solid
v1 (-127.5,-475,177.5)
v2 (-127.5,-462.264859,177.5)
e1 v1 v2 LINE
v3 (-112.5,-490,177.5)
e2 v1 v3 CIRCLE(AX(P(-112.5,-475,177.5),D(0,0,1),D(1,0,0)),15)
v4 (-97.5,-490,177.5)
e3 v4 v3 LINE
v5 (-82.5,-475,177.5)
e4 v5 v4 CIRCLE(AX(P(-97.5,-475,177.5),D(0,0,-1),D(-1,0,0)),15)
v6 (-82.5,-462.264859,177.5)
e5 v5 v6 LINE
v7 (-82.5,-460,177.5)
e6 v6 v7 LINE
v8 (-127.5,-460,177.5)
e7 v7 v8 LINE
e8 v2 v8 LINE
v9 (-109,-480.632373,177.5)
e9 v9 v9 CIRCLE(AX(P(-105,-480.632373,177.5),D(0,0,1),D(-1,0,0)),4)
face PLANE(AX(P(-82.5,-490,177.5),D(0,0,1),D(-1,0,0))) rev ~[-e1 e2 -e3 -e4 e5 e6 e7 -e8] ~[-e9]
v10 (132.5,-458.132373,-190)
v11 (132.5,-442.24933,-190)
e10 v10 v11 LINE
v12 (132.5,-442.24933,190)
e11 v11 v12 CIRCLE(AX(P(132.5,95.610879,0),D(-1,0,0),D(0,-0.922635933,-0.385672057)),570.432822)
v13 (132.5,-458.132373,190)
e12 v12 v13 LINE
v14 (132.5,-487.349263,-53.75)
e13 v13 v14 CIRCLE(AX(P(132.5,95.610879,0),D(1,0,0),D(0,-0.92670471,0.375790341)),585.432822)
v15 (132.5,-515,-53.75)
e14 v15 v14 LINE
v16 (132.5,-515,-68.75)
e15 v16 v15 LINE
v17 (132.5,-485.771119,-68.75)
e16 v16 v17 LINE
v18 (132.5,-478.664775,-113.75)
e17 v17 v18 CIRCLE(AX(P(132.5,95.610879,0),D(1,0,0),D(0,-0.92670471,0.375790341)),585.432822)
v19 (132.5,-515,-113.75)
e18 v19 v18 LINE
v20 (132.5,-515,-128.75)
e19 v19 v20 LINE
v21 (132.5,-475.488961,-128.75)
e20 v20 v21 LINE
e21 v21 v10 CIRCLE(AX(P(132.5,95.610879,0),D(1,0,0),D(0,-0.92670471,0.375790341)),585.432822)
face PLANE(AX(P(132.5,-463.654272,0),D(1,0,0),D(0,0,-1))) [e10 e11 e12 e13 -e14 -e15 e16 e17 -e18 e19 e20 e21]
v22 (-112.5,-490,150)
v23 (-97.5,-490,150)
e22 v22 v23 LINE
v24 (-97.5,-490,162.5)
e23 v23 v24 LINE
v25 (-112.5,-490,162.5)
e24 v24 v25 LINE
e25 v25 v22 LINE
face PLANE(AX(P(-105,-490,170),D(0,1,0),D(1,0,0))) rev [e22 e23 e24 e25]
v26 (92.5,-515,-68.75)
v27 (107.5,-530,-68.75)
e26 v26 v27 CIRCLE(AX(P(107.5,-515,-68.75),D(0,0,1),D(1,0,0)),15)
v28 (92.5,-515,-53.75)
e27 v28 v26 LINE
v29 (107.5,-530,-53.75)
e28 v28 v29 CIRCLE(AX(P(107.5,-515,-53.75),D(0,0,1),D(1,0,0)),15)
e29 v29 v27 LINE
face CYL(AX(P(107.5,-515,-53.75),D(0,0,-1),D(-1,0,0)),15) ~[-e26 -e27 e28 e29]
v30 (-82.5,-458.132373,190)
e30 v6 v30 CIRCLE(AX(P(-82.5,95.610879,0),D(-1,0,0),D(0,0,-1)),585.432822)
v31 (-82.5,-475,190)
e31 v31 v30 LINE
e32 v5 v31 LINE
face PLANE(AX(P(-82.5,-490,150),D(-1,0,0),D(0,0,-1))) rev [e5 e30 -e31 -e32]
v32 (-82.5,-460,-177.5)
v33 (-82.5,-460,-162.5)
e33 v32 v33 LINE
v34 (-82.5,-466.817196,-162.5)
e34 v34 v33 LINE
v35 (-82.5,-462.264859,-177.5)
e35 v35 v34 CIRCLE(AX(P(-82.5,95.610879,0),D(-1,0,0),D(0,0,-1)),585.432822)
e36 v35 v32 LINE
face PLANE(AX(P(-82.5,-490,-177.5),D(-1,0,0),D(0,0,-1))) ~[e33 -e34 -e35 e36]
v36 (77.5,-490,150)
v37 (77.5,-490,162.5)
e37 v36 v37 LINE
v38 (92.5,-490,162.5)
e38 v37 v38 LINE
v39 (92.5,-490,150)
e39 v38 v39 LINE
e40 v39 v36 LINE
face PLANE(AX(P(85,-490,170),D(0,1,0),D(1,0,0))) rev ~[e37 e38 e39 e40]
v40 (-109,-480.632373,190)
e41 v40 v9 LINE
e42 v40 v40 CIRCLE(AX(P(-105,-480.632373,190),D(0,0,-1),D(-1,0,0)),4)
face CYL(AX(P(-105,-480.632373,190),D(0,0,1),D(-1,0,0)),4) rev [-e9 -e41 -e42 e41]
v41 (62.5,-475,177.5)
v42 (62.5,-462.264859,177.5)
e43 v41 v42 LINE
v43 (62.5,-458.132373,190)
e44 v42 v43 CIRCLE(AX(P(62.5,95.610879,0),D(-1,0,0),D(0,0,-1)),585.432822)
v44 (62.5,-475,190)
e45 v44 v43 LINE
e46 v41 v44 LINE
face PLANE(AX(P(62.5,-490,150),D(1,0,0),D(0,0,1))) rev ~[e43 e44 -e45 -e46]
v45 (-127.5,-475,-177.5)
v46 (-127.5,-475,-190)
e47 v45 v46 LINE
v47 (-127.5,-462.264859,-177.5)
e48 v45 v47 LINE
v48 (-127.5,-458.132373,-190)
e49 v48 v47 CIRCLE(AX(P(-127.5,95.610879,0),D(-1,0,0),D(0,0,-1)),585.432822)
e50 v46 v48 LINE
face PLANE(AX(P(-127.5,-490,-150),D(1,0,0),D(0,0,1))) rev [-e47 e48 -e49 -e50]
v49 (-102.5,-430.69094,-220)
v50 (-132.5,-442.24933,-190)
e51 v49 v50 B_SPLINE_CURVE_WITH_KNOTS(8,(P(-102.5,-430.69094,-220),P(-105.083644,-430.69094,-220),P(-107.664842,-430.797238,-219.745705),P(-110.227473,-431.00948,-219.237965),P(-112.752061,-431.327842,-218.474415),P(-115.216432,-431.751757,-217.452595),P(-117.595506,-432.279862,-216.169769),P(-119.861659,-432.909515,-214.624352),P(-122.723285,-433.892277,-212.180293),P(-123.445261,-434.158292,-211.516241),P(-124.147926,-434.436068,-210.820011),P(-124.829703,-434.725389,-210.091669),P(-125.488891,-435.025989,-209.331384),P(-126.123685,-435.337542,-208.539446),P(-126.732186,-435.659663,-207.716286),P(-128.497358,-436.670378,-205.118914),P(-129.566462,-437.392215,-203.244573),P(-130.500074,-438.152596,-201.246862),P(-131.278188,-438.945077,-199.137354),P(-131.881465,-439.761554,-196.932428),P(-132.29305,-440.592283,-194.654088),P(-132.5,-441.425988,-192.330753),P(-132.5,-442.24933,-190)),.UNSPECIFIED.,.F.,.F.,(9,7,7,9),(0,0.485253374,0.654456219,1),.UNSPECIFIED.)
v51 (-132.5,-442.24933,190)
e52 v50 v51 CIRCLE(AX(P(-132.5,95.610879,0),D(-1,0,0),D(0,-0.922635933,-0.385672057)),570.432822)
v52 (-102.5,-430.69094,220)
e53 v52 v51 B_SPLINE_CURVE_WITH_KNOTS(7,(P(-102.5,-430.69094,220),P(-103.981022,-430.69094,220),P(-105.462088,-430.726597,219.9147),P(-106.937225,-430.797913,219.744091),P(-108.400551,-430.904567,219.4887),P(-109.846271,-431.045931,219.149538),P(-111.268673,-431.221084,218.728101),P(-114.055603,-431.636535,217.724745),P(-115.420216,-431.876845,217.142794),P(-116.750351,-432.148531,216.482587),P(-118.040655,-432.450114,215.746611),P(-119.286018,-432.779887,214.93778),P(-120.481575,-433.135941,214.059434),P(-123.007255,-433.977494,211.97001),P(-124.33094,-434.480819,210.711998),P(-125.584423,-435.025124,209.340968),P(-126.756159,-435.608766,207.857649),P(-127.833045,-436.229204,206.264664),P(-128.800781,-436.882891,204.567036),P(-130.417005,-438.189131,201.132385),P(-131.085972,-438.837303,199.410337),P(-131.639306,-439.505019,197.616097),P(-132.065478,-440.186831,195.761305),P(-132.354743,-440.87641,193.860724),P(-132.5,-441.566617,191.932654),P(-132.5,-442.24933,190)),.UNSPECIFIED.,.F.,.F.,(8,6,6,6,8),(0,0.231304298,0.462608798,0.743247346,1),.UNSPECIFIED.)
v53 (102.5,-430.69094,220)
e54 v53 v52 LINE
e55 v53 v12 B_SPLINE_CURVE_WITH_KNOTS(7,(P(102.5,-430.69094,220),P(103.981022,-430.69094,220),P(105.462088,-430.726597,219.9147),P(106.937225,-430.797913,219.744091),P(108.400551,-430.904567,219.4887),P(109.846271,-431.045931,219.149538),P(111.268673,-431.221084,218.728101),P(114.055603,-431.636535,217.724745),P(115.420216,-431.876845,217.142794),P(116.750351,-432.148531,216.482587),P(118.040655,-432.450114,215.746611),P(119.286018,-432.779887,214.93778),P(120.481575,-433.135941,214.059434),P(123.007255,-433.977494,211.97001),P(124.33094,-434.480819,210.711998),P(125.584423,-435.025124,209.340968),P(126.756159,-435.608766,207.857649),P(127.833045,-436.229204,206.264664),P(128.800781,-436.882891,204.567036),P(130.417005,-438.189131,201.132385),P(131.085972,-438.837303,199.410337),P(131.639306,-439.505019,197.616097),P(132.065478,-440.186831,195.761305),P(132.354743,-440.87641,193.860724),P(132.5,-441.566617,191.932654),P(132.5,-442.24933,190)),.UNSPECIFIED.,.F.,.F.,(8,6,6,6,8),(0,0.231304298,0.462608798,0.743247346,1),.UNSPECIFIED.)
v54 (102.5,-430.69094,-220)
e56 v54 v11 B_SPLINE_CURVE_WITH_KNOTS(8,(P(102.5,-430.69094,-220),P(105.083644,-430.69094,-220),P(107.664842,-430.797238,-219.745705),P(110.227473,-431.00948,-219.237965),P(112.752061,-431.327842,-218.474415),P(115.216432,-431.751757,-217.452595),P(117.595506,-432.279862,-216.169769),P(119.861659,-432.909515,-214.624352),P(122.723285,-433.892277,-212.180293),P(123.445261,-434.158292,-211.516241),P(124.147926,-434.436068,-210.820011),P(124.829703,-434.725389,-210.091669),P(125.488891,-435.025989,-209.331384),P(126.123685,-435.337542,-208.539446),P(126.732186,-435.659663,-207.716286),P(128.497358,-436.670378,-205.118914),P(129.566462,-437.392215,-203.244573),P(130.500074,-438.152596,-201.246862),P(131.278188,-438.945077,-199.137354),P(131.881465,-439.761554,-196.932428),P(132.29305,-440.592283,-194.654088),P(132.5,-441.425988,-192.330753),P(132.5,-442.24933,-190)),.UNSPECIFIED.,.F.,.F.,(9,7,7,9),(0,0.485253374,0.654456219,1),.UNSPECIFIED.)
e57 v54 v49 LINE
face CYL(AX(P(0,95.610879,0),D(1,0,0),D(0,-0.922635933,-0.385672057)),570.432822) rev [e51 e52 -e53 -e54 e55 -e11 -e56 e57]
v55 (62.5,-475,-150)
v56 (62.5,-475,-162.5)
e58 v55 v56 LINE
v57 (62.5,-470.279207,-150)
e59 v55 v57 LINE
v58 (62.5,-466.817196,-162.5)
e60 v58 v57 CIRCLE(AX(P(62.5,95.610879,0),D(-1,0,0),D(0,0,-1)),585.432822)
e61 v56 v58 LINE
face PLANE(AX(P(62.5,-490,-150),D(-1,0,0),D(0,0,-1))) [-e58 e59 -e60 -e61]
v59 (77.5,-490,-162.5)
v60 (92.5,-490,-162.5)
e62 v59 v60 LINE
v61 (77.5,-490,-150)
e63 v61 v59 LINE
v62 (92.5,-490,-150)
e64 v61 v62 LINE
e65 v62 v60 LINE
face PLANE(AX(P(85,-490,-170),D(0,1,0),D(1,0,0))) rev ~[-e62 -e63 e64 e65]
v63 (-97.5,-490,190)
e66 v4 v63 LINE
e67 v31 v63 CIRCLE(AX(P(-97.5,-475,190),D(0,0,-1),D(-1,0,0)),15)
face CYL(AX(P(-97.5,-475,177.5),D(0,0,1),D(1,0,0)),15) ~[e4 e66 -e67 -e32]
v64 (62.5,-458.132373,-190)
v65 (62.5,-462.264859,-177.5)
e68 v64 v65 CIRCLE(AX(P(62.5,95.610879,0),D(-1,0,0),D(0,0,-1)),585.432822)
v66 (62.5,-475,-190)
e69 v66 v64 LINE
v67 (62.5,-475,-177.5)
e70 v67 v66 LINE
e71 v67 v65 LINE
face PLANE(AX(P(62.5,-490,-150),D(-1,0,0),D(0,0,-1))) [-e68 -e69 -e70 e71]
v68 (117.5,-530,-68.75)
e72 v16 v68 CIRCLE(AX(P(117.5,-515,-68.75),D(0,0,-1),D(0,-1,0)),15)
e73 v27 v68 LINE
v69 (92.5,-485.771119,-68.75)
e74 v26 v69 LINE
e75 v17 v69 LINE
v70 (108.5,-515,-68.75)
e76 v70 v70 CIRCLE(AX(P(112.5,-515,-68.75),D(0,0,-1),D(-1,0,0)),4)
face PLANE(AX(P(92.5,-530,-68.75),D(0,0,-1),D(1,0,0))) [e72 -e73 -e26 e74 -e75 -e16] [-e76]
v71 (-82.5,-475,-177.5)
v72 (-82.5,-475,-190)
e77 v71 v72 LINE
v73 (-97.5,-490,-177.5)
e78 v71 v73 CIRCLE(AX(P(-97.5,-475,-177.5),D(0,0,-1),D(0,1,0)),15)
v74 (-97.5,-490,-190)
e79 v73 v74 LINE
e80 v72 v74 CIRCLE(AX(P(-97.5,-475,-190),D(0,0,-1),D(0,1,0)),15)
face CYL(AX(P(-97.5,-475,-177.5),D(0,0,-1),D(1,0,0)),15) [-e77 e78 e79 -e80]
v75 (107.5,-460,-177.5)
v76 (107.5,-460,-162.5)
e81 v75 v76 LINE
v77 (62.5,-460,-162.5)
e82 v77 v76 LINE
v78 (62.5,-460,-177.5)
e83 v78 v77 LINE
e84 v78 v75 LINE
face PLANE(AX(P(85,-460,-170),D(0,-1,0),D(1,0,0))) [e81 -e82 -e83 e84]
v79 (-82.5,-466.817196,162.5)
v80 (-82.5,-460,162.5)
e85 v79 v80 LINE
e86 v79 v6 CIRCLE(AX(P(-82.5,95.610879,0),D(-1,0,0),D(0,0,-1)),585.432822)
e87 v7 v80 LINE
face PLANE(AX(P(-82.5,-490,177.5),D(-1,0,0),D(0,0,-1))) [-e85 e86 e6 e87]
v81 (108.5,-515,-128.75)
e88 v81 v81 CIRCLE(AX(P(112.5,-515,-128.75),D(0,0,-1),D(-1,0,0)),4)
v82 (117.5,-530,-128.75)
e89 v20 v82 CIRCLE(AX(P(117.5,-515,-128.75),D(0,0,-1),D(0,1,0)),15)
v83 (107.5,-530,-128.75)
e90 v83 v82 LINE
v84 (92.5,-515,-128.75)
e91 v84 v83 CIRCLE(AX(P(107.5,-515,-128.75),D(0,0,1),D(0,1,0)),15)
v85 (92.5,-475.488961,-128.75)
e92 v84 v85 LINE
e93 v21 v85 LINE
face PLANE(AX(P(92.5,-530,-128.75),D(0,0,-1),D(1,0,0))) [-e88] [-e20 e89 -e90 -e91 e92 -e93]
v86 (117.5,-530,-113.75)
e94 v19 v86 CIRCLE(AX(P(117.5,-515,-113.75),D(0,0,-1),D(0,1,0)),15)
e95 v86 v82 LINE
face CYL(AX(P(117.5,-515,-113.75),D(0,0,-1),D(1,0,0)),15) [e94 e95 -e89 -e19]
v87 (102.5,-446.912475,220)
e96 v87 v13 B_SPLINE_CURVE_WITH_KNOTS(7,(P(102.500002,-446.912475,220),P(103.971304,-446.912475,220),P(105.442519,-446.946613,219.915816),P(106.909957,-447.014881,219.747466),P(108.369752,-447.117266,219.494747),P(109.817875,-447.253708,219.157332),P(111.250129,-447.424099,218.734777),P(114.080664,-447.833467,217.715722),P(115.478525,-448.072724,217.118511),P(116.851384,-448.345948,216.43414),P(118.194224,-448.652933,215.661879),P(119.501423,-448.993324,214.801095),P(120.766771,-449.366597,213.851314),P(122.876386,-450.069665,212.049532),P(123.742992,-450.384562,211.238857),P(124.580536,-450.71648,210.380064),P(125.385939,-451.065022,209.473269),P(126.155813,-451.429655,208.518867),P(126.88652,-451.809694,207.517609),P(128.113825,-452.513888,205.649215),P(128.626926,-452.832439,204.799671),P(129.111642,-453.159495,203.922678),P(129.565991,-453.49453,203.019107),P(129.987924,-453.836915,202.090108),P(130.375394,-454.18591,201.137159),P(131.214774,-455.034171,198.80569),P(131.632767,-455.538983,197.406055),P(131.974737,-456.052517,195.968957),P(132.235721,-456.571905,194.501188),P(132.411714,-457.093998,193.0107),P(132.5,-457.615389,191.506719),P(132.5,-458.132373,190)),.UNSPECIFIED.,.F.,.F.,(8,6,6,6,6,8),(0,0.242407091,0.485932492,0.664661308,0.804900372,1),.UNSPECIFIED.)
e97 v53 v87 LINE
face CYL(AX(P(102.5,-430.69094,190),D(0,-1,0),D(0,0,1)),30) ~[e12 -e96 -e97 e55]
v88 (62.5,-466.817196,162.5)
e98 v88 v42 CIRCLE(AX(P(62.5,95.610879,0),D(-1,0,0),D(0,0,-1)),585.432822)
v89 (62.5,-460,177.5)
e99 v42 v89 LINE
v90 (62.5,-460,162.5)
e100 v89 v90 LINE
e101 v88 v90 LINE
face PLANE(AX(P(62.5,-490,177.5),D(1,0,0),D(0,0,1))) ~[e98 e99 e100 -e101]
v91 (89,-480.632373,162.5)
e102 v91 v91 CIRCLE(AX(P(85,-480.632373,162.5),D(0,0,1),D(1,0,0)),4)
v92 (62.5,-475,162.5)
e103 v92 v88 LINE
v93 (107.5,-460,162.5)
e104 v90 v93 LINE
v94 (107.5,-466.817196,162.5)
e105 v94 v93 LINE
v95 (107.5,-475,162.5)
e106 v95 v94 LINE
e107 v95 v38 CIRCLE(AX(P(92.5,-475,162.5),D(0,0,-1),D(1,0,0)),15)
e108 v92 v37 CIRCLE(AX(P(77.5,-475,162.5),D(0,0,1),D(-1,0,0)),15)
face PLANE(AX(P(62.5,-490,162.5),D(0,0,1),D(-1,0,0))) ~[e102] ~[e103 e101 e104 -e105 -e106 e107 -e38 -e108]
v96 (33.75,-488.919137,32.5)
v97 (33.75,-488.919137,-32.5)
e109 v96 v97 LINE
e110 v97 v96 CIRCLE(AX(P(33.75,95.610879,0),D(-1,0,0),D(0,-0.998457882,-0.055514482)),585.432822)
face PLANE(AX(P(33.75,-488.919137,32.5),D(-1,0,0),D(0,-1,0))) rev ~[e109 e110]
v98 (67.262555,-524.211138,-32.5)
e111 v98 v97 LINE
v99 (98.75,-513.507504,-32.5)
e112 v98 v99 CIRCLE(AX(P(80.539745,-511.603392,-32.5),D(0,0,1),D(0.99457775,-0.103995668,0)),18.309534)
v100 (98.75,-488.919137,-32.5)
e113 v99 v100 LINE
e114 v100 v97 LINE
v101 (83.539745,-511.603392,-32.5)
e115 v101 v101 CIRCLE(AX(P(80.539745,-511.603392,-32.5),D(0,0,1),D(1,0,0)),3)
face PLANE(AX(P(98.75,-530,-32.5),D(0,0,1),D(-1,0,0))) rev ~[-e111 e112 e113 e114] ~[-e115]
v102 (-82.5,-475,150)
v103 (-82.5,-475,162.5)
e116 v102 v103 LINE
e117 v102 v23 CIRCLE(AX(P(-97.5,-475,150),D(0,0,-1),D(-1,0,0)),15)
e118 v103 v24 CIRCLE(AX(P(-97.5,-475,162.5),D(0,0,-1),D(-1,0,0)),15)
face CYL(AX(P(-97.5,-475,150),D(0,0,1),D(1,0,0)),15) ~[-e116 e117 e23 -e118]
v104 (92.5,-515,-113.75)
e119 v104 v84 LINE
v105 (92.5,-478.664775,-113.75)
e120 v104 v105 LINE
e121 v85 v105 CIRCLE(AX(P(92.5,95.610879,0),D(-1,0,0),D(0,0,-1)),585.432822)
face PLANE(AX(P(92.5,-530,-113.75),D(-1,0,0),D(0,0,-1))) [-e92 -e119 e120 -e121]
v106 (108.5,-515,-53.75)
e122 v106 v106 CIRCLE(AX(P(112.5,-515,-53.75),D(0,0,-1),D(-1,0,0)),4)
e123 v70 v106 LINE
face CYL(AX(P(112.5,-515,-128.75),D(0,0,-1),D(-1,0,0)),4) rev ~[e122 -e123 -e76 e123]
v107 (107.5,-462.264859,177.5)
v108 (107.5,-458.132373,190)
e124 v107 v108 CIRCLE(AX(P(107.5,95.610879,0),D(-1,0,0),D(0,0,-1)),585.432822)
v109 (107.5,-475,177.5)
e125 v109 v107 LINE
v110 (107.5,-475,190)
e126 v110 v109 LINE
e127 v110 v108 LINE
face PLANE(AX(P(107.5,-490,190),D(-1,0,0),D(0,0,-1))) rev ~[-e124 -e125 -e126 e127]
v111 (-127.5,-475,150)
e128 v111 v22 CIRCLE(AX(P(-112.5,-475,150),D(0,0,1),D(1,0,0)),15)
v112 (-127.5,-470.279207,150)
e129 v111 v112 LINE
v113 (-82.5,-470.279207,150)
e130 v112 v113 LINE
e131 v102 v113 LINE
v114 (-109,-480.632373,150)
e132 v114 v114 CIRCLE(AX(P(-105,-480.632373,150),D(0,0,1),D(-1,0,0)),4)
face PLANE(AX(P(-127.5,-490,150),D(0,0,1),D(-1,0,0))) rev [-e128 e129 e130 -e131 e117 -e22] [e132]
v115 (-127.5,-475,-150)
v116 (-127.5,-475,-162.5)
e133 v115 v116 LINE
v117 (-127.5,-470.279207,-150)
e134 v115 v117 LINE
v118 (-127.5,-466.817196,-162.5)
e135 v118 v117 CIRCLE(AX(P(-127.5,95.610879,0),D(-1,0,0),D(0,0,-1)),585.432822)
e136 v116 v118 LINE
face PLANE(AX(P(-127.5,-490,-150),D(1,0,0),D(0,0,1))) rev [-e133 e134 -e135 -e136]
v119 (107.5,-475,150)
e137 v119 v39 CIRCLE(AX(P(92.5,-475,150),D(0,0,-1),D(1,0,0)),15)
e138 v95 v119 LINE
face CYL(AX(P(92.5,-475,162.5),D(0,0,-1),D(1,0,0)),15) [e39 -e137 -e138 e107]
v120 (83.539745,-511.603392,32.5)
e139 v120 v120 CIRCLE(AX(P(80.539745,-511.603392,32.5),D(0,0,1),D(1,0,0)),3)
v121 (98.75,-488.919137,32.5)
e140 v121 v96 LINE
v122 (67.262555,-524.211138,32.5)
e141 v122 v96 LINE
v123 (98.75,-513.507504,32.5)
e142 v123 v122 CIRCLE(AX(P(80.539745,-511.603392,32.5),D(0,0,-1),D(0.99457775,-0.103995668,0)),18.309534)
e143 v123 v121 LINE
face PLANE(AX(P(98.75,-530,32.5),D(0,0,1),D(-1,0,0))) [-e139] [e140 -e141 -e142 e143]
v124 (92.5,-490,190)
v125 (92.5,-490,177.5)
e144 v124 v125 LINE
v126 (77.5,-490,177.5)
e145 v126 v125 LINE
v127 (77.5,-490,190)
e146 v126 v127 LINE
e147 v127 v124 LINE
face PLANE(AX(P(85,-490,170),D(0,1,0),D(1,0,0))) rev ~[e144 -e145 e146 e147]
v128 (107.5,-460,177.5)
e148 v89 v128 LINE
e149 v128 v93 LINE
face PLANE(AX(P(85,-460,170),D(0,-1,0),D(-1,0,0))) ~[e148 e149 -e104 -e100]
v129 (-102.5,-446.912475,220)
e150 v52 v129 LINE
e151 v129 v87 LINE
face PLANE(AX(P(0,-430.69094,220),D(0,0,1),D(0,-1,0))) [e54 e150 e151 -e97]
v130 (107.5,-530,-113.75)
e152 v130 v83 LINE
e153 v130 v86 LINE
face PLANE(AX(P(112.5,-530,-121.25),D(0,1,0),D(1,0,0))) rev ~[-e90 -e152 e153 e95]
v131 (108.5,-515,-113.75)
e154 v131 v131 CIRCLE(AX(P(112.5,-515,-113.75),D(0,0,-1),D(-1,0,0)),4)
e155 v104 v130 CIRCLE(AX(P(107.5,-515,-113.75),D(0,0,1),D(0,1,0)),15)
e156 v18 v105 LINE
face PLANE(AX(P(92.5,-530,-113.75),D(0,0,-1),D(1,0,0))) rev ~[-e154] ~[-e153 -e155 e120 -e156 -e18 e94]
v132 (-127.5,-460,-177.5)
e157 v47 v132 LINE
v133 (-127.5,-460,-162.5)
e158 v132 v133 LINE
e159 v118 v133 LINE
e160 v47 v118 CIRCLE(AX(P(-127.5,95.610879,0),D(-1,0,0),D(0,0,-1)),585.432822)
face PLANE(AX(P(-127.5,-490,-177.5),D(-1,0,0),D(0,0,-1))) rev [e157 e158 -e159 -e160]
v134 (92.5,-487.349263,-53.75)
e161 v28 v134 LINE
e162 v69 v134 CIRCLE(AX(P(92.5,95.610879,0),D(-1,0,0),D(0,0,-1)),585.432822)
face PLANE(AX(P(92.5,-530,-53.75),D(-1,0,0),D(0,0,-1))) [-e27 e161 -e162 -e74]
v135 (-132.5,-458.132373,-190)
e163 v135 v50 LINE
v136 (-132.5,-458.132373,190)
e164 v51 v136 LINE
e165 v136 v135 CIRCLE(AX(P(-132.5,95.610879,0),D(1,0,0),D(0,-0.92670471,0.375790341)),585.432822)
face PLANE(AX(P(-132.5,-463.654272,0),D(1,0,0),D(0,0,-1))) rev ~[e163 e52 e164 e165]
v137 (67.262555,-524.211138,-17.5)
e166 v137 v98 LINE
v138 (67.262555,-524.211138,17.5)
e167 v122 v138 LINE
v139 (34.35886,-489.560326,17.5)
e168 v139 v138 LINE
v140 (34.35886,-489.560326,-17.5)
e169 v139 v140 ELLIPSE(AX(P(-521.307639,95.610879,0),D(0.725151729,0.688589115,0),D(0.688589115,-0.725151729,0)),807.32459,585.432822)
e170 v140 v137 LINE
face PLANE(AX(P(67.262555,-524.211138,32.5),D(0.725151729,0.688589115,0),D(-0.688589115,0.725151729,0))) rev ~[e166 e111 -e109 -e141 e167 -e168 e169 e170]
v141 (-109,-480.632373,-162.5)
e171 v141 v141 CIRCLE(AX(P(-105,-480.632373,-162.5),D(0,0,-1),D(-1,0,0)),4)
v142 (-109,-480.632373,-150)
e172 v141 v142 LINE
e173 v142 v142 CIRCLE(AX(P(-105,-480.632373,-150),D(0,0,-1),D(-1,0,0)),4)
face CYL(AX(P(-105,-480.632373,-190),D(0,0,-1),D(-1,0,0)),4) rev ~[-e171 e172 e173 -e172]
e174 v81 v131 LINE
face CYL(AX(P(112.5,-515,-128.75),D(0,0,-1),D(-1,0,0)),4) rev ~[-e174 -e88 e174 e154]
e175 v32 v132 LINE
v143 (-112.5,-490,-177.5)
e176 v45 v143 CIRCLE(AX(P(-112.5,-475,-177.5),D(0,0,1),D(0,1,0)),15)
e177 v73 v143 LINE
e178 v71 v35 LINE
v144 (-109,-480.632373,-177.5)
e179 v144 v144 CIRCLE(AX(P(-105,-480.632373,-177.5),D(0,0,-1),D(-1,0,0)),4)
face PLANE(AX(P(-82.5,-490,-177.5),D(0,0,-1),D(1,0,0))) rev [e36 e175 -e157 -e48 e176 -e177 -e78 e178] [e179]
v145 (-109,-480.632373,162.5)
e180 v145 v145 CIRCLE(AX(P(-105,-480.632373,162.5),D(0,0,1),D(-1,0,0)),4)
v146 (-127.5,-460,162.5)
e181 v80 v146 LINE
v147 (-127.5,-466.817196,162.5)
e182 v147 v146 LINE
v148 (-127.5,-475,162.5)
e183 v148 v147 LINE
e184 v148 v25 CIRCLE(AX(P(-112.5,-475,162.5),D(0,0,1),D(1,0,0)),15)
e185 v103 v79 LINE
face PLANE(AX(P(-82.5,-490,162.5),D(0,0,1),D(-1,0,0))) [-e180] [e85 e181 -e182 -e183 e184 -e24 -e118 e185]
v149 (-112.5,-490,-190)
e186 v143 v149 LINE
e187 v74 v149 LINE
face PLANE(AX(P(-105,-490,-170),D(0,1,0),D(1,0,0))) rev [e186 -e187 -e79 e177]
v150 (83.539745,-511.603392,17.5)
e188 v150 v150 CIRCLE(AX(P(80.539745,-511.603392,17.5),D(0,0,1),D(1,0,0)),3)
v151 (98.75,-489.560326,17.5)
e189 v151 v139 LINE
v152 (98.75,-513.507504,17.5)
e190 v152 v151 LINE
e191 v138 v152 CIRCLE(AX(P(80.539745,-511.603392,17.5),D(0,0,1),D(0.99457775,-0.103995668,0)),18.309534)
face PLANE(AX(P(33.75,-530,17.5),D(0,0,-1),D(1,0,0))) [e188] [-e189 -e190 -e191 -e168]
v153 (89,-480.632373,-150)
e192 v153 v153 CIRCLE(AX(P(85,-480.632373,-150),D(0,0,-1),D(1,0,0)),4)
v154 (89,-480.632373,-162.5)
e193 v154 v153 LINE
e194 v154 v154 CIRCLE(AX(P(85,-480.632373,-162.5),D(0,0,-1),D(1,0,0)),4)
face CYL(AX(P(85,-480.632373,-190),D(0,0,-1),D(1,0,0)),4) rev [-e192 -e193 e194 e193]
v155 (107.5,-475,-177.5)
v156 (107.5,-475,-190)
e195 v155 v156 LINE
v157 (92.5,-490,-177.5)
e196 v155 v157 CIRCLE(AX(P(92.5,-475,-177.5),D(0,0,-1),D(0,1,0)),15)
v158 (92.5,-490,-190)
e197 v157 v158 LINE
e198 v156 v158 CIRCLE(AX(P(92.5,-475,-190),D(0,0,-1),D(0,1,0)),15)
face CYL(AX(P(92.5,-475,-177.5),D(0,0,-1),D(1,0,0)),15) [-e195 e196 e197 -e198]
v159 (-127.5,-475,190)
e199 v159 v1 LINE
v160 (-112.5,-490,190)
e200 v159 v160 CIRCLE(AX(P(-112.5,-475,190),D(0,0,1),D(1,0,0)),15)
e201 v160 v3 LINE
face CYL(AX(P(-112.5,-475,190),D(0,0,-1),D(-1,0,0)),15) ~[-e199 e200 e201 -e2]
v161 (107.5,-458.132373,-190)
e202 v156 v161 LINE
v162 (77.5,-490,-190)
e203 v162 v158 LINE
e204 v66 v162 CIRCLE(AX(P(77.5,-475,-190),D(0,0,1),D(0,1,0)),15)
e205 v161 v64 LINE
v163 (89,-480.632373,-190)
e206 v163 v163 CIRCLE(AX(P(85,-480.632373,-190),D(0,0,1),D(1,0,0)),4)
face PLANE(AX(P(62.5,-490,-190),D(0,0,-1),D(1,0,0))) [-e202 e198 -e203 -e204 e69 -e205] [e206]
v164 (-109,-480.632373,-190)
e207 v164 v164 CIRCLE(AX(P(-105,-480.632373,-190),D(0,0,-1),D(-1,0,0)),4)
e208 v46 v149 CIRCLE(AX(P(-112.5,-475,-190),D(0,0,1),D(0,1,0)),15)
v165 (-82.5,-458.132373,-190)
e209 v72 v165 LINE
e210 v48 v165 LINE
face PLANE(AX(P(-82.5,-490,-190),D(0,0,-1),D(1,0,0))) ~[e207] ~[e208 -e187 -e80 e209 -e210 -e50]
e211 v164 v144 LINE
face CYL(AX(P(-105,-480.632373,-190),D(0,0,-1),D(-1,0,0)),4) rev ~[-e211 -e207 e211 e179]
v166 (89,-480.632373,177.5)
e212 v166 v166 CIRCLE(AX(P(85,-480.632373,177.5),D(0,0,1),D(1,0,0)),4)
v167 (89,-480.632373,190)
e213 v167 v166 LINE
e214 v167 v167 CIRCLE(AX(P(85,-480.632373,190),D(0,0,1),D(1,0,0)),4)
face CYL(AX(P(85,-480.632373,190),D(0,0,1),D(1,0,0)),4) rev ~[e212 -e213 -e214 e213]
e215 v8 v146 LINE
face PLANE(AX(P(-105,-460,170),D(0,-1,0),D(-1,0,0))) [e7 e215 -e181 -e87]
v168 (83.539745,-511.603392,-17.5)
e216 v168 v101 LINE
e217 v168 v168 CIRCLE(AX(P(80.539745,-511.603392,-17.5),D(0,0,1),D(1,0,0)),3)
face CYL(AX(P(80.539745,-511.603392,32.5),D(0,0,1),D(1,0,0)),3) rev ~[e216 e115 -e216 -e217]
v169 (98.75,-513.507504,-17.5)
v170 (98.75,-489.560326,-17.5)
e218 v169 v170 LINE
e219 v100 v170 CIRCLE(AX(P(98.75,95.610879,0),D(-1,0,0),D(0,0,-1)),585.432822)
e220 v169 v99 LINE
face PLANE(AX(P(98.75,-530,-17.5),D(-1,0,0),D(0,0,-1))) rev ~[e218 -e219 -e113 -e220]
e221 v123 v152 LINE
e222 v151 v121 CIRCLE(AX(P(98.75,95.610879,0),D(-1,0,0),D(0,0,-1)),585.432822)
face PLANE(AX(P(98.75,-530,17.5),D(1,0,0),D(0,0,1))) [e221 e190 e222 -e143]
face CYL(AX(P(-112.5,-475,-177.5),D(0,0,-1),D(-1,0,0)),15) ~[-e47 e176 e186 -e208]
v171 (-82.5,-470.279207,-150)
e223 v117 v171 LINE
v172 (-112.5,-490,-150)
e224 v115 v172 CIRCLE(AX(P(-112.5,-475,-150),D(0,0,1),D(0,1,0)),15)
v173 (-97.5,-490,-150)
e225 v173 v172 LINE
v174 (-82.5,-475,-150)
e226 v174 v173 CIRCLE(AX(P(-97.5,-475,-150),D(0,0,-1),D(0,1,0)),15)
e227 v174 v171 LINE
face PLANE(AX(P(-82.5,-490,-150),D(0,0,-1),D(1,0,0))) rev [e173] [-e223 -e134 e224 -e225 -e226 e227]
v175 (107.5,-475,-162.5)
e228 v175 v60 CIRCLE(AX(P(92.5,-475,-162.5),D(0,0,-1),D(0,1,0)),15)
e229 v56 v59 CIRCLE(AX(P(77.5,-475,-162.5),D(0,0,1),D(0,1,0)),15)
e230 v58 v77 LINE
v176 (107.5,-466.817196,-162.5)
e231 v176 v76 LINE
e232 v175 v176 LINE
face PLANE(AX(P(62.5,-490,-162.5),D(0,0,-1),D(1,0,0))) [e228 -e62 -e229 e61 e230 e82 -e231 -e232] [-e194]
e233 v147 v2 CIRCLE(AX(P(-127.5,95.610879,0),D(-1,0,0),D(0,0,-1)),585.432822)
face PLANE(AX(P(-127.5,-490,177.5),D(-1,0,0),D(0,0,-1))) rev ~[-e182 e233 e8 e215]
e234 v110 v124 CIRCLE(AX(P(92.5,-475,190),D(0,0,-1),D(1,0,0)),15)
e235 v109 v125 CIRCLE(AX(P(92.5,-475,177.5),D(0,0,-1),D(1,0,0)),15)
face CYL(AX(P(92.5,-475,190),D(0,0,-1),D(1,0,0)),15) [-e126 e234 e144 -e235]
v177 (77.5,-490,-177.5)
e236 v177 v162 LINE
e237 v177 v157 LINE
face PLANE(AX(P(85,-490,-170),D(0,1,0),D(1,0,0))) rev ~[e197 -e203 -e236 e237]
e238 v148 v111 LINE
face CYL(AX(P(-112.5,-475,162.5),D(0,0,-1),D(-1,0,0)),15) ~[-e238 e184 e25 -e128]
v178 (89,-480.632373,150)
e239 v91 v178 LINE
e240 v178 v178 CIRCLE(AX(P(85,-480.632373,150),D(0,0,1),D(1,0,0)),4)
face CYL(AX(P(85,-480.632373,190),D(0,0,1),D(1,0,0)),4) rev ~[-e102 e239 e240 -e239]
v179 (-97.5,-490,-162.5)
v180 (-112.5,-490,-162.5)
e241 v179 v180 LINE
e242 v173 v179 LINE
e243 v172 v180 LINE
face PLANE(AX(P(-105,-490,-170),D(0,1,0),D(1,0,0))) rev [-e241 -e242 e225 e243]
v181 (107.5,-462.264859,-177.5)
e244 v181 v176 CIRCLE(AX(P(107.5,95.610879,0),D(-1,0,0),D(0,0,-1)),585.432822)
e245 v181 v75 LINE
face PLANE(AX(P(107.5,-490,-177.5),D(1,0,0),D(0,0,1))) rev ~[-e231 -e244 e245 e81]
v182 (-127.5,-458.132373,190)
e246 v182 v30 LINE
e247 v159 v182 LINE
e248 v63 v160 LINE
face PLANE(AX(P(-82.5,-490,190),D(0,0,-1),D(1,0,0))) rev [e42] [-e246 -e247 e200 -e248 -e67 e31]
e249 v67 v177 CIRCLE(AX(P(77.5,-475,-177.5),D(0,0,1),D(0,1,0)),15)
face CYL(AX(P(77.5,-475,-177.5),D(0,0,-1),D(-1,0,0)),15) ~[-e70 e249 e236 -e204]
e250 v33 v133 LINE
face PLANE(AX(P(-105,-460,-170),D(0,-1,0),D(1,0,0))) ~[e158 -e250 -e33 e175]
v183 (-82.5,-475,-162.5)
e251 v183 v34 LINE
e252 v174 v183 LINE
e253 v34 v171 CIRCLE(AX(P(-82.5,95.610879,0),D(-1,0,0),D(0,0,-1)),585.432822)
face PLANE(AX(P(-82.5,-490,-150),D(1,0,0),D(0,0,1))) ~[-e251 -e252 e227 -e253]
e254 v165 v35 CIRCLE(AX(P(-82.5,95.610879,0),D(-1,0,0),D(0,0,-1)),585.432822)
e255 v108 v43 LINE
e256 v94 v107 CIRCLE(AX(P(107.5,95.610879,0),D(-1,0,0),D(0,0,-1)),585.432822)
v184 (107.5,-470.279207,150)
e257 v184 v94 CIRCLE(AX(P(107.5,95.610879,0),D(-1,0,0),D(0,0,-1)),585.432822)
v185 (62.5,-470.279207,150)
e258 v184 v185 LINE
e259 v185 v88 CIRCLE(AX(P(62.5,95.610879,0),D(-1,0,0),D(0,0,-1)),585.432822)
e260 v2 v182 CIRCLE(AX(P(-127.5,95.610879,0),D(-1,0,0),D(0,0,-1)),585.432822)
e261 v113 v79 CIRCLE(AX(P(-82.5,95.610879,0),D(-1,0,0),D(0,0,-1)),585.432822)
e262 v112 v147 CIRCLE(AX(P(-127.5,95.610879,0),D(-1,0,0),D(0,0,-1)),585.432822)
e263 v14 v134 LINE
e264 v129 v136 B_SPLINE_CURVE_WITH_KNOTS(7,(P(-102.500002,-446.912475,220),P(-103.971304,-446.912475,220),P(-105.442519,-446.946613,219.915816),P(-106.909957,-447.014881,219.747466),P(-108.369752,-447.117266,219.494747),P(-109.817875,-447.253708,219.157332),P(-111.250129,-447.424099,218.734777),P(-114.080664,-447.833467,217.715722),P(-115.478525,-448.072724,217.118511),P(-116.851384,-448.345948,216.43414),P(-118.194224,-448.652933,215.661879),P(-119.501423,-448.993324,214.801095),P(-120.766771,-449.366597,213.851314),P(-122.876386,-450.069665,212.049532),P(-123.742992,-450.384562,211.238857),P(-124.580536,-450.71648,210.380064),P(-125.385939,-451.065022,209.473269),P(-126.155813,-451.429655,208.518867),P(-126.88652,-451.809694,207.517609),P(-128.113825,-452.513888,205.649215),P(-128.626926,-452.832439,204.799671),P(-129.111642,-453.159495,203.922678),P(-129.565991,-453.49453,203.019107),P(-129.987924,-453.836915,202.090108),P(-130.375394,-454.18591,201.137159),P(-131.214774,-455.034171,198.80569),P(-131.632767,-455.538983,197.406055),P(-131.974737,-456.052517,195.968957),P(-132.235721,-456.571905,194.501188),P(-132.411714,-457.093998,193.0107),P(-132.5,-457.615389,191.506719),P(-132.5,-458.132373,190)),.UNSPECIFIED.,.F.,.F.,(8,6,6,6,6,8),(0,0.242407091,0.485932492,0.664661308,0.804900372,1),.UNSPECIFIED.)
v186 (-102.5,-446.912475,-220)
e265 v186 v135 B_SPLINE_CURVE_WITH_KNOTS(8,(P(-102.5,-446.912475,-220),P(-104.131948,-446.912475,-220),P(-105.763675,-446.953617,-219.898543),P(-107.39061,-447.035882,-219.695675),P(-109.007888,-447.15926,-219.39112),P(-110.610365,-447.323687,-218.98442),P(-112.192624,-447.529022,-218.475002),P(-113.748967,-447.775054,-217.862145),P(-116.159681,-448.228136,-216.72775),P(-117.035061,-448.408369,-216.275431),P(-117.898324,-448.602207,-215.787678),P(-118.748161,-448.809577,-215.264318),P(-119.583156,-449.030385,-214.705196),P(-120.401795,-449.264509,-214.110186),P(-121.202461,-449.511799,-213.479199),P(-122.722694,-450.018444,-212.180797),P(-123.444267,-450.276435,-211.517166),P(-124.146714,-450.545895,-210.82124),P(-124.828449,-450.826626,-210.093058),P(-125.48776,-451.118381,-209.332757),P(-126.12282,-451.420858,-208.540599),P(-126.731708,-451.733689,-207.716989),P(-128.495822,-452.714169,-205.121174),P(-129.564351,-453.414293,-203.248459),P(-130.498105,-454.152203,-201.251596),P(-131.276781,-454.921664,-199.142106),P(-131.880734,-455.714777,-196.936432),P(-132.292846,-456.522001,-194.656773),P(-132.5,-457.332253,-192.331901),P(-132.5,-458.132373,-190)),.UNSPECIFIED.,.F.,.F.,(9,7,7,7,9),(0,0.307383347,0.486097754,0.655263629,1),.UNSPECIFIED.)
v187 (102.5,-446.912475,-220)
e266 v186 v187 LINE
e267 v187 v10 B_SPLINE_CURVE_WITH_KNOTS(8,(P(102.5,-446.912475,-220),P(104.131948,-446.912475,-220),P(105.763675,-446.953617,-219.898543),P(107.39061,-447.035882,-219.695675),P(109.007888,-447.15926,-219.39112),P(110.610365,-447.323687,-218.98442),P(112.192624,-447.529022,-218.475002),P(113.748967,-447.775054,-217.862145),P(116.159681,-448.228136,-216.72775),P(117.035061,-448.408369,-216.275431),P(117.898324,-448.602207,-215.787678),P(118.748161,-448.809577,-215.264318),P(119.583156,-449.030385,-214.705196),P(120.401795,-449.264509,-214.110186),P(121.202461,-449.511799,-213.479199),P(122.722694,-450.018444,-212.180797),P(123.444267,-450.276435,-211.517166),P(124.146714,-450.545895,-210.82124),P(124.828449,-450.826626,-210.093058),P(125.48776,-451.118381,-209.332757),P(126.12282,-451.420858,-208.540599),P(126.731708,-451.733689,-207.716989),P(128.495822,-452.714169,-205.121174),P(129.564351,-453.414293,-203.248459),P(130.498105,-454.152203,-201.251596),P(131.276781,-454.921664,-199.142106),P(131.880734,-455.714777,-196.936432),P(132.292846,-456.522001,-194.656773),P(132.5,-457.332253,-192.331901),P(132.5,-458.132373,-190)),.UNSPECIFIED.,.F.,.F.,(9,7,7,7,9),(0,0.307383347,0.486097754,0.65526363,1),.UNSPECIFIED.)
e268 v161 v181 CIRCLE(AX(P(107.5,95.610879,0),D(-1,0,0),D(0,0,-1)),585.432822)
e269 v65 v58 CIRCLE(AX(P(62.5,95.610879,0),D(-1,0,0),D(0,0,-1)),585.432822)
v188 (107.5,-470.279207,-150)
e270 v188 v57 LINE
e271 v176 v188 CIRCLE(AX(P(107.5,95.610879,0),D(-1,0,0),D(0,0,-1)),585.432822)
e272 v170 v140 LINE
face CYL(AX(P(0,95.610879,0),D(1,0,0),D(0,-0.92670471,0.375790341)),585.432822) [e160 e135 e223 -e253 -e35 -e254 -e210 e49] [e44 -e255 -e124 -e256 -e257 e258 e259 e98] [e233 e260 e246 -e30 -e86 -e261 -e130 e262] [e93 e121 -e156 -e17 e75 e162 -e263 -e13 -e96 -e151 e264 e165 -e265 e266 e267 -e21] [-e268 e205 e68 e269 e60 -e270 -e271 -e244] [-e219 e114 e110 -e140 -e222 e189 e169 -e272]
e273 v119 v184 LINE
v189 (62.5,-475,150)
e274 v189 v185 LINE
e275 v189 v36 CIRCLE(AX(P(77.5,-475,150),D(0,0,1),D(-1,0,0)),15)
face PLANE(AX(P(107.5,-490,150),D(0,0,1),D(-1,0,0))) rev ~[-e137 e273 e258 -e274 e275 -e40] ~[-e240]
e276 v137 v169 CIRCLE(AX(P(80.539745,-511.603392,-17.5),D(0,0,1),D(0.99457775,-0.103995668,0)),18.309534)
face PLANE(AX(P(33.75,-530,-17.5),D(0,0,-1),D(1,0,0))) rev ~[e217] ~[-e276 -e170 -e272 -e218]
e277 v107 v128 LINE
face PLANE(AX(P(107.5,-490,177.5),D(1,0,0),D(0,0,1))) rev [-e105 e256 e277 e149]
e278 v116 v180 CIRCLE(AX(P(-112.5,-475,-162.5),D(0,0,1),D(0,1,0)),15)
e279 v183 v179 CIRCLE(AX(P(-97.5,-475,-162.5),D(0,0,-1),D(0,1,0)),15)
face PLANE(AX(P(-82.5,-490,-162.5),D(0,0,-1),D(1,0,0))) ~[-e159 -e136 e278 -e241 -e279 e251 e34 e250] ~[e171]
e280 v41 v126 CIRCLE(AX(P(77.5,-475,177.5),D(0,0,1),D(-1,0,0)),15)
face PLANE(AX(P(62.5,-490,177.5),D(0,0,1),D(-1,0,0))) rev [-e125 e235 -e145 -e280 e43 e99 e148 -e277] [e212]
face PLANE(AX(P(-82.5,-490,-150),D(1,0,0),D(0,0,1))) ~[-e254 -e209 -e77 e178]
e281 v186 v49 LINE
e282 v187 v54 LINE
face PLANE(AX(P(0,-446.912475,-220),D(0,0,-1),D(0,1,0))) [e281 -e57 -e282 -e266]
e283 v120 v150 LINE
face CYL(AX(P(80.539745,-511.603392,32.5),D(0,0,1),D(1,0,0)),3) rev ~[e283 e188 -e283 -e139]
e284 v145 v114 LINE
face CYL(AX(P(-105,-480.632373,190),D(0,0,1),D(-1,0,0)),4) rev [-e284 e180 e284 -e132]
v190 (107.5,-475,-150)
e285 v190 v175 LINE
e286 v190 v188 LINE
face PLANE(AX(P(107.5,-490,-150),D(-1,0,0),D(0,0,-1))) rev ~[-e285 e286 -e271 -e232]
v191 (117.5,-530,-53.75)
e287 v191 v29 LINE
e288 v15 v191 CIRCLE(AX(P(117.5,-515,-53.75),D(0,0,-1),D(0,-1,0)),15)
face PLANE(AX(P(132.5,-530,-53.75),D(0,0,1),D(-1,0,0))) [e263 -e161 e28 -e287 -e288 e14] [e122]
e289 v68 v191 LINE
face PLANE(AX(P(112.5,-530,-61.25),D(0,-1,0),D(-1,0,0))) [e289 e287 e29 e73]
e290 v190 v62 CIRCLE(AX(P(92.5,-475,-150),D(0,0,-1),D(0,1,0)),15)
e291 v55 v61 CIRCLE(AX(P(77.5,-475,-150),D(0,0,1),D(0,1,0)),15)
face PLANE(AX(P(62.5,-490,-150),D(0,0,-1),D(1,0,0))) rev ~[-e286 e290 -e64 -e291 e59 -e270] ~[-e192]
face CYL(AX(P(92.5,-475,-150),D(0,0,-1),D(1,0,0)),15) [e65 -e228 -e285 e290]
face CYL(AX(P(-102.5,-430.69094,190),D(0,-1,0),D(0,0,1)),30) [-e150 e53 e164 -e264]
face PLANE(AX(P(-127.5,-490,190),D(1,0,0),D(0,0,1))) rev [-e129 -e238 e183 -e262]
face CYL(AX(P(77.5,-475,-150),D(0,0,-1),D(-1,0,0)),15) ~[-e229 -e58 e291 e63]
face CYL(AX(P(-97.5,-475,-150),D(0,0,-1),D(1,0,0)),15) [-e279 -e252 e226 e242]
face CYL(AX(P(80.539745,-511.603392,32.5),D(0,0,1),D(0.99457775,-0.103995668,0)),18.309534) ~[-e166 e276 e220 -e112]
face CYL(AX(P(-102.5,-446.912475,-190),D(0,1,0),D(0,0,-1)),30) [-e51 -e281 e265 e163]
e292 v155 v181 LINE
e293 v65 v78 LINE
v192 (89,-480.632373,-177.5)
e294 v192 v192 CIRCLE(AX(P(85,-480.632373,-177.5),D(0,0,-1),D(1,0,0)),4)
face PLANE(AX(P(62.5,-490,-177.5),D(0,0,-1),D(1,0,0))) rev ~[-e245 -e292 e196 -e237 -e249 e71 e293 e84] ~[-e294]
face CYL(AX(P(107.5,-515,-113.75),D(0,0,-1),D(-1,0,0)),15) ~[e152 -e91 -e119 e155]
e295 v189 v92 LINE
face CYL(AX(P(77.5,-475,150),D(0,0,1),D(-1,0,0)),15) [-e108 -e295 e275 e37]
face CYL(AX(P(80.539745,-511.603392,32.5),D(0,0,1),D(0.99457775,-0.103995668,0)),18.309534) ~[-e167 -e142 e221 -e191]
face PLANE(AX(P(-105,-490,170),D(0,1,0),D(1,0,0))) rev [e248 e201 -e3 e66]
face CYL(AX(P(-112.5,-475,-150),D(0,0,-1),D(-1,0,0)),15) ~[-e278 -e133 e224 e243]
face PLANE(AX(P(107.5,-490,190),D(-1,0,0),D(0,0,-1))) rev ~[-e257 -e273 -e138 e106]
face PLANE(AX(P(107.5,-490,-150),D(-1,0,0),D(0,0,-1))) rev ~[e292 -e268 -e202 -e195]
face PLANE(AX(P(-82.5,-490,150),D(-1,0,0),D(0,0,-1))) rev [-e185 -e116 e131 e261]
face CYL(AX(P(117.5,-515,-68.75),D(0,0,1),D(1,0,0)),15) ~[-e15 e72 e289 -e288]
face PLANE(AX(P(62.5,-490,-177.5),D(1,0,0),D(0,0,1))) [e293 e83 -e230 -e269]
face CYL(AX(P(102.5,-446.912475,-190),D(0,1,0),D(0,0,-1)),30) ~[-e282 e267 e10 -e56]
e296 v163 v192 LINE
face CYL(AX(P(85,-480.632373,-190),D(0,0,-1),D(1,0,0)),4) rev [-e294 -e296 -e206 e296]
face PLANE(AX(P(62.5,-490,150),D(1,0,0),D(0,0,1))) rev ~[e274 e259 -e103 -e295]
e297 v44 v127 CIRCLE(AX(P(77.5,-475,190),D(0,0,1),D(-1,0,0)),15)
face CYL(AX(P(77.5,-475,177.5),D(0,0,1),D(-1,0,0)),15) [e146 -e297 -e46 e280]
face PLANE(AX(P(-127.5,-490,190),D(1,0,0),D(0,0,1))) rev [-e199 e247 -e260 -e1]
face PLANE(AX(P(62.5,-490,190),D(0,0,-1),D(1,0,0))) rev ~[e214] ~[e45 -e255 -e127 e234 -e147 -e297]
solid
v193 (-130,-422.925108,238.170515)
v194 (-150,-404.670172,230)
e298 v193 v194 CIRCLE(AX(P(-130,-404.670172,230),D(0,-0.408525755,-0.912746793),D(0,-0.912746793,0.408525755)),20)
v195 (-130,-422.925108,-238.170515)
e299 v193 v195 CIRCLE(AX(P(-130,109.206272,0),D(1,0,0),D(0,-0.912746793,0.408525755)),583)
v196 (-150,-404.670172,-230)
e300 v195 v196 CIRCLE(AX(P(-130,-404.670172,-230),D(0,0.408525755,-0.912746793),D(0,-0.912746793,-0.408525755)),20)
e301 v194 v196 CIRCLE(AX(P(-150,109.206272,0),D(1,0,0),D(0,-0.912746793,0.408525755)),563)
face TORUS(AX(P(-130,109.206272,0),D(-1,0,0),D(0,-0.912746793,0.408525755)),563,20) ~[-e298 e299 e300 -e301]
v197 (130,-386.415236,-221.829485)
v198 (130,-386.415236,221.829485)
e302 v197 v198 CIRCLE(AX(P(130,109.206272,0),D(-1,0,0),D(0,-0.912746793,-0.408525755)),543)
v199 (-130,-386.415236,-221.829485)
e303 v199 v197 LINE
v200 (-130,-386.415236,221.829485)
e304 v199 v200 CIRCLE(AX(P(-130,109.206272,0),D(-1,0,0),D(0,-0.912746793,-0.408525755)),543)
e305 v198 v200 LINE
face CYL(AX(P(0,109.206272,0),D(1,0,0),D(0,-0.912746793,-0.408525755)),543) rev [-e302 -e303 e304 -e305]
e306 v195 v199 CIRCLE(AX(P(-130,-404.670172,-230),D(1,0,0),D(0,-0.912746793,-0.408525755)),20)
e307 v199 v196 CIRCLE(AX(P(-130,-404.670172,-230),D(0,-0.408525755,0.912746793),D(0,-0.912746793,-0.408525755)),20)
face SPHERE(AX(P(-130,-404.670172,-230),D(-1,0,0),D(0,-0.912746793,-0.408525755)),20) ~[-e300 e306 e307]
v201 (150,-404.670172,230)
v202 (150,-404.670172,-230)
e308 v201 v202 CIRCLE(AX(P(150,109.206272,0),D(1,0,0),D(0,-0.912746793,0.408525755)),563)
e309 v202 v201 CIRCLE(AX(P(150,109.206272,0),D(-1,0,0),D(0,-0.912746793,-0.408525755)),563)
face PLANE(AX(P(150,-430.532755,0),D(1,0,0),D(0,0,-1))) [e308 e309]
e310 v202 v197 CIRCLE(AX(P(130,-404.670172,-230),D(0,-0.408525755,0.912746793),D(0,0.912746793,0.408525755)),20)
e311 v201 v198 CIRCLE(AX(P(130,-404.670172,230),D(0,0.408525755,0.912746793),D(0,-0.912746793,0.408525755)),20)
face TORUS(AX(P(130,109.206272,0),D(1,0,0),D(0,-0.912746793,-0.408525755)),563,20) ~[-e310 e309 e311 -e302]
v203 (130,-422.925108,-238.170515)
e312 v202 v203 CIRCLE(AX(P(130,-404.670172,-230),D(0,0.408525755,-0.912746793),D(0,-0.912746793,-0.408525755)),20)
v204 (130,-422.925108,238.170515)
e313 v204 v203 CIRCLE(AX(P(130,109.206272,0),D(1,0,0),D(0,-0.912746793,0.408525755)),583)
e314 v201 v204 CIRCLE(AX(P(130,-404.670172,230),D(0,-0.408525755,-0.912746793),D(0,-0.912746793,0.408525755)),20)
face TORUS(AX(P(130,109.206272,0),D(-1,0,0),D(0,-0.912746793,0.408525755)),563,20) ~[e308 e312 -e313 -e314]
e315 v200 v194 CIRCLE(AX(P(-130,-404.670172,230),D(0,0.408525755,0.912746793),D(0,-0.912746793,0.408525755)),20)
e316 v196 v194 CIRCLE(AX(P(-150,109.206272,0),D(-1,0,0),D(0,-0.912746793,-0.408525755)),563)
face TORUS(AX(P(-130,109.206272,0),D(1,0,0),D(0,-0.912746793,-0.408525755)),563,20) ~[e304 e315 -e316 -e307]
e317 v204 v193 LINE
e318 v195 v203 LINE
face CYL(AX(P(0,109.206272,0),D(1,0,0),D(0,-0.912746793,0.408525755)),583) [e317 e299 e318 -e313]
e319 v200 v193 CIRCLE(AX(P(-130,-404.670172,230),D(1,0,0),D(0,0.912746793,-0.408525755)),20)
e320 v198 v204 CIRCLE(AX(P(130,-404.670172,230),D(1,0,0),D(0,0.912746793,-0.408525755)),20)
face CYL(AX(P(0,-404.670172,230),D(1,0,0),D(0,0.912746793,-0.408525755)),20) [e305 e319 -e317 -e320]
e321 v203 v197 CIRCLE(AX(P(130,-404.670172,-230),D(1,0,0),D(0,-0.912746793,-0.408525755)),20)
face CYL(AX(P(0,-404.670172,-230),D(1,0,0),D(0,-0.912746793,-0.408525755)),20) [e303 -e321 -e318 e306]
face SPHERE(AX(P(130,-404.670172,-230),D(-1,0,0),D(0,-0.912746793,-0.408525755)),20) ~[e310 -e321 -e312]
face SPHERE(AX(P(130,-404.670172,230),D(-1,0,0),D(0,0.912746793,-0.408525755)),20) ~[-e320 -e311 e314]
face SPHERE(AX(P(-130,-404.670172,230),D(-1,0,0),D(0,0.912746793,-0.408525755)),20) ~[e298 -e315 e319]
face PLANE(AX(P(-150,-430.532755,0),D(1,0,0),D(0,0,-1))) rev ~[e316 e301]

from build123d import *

# Parameters (mm, degrees)
BOSS_EXTRUDE1_DEPTH      = 150
FILLET1_R                = 20
BOSS_EXTRUDE2_DEPTH      = 132.5
FILLET2_R                = 30
BOSS_EXTRUDE3_REACH      = 311.991
BOSS_EXTRUDE3_END_RADIUS = 585.4328222674012
SKETCH3_W                = 45
SKETCH3_H                = 40
SKETCH5_W                = 44.999999999999986
SKETCH5_H                = 15.000000000000028
CUT_EXTRUDE1_DEPTH       = 30
FILLET3_R                = 15
SKETCH6_R                = 4.000000000000007
CUT_EXTRUDE2_DEPTH       = 44.000000000000014
BOSS_EXTRUDE4_REACH      = 327.762
BOSS_EXTRUDE4_END_RADIUS = 585.4328222674012
SKETCH8_R                = 3.0000000000000084
CUT_EXTRUDE3_DEPTH       = 620.0365498336911
MIRROR4_COPY_1_SKETCH_W  = 44.999999999999986
MIRROR4_COPY_1_SKETCH_H  = 15.000000000000028
MIRROR4_COPY_1_DEPTH     = 30
MIRROR4_COPY_2_SKETCH_R  = 4.000000000000007
MIRROR4_COPY_2_DEPTH     = 44.000000000000014
FILLET3_OF_MIRROR4_R     = 15
BOSS_EXTRUDE5_REACH      = 327.762
BOSS_EXTRUDE5_END_RADIUS = 585.4328222674012
SKETCH9_W                = 40
SKETCH9_H                = 15.000000000000014
FILLET4_R                = 15
SKETCH10_R               = 4.000000000000007
CUT_EXTRUDE4_DEPTH       = 130


with BuildPart() as part:
    # Sketch1 → Boss-Extrude1 (new, symmetric)
    with BuildSketch(Plane(origin=(0, 0, 0), x_dir=(0, 0, -1), z_dir=(1, 0, 0))):
        with BuildLine():
            ThreePointArc((-238.1705150976909, -422.9251079306098), (3.57e-14, -473.79372778271767), (238.1705150976909, -422.9251079306098))
            ThreePointArc((238.1705150976909, -422.9251079306098), (248.25493585412997, -396.499656978789), (221.82948490230902, -386.4152362223495))
            ThreePointArc((221.82948490230902, -386.4152362223495), (3.325e-14, -433.79372778271744), (-221.82948490230902, -386.4152362223495))
            ThreePointArc((-221.82948490230902, -386.4152362223495), (-248.2549358541303, -396.49965697878883), (-238.1705150976909, -422.9251079306098))
        make_face()
    extrude(amount=BOSS_EXTRUDE1_DEPTH, both=True)

    # Fillet1
    fillet1_edges = [part.edges().sort_by_distance(p)[0] for p in [
        (150, -396.49965697878883, -248.25493585412988),
        (150, -433.79372778271744, -7.11e-15),
        (150, -396.49965697878866, 248.25493585413022),
        (-150, -433.79372778271744, -7.11e-15),
        (-150, -396.49965697878883, -248.25493585412988),
        (-150, -473.7937277827177, 2.842e-14),
        (-150, -396.49965697878866, 248.25493585413022),
        (150, -473.7937277827177, 2.842e-14),
    ]]
    fillet(fillet1_edges, radius=FILLET1_R)


with BuildPart() as body_2:
    # Sketch2 → Boss-Extrude2 (new, symmetric)
    with BuildSketch(Plane(origin=(0, 0, 0), x_dir=(0, 0, -1), z_dir=(1, 0, 0))):
        with BuildLine():
            Line((-220, -430.6909402222708), (-220, -446.91247495884767))
            ThreePointArc((-220, -446.91247495884767), (8.09e-15, -489.8219434542895), (220, -446.91247495884767))
            Line((220, -446.91247495884767), (220, -430.6909402222708))
            ThreePointArc((220, -430.6909402222708), (7.17e-15, -474.8219434542895), (-220, -430.6909402222708))
        make_face()
    extrude(amount=BOSS_EXTRUDE2_DEPTH, both=True)

    # Fillet2
    fillet2_edges = [body_2.edges().sort_by_distance(p)[0] for p in [
        (132.5, -438.8017075905592, -220),
        (-132.5, -438.8017075905592, -220),
        (-132.5, -438.8017075905592, 220),
        (132.5, -438.8017075905592, 220),
    ]]
    fillet(fillet2_edges, radius=FILLET2_R)

    # Boss-Extrude3: up to this cylinder (the profile starts outside it)
    boss_extrude3_end = Plane(origin=(85, 95.6108788131117, 2.776e-14), z_dir=(-1, 0, 0)) * Cylinder(BOSS_EXTRUDE3_END_RADIUS, 1795.8476445348024, mode=Mode.PRIVATE)
    # Sketch3 → Boss-Extrude3 (add, up to the surface)
    with BuildSketch(Plane(origin=(0, -490, 0), x_dir=(1, 0, 0), z_dir=(0, 1, 0)), mode=Mode.PRIVATE) as boss_extrude3_sk1:
        Polygon((62.49999999999997, -190.00000000000003), (107.49999999999997, -190.00000000000003), (107.49999999999996, -150.00000000000003), (62.49999999999996, -150.00000000000003), align=None)
    boss_extrude3_tool1 = extrude(boss_extrude3_sk1.sketch, amount=BOSS_EXTRUDE3_REACH, mode=Mode.PRIVATE) - boss_extrude3_end
    # Sketch3 → Boss-Extrude3 (add, up to the surface)
    with BuildSketch(Plane(origin=(0, -490, 0), x_dir=(1, 0, 0), z_dir=(0, 1, 0)), mode=Mode.PRIVATE) as boss_extrude3_sk2:
        with Locations((85.00000000000009, 170)):
            Rectangle(SKETCH3_W, SKETCH3_H)
    boss_extrude3_tool2 = extrude(boss_extrude3_sk2.sketch, amount=BOSS_EXTRUDE3_REACH, mode=Mode.PRIVATE) - boss_extrude3_end
    boss_extrude3 = boss_extrude3_tool1.solids().sort_by_distance((85, -490, 170))[0] + boss_extrude3_tool2.solids().sort_by_distance((85, -490, -170))[0]
    add(boss_extrude3)

    # Sketch5 → Cut-Extrude1 (cut)
    with BuildSketch(Plane.XZ.offset(490)):
        with Locations((85.00000000000009, -170)):
            Rectangle(SKETCH5_W, SKETCH5_H)
    cut_extrude1 = extrude(amount=-CUT_EXTRUDE1_DEPTH, mode=Mode.SUBTRACT)

    # Mirror1: Cut-Extrude1 across plane
    add(cut_extrude1.mirror(Plane.XY), mode=Mode.SUBTRACT)

    # Fillet3
    fillet3_edges = [body_2.edges().sort_by_distance(p)[0] for p in [
        (107.49999999999997, -490, 183.75000000000003),
        (62.49999999999996, -490, 156.25),
        (107.50000000000009, -490, -156.25),
        (62.500000000000085, -490, -183.75),
        (107.50000000000009, -490, -183.75),
        (62.500000000000085, -490, -156.25),
        (107.49999999999996, -490, 156.25),
        (62.49999999999997, -490, 183.75000000000003),
    ]]
    fillet(fillet3_edges, radius=FILLET3_R)

    # Sketch6 → Cut-Extrude2 (cut)
    with BuildSketch(Plane.XY.offset(190.00000000000003)):
        with Locations((85.00000000000007, -480.632373414827)):
            Circle(SKETCH6_R)
    cut_extrude2 = extrude(amount=-CUT_EXTRUDE2_DEPTH, mode=Mode.SUBTRACT)

    # Mirror2: Cut-Extrude2 across plane
    add(cut_extrude2.mirror(Plane.XY), mode=Mode.SUBTRACT)

    # Boss-Extrude4: up to this cylinder (the profile starts outside it)
    boss_extrude4_end = Plane(origin=(66.25, 95.6108788131117, 2.776e-14), z_dir=(-1, 0, 0)) * Cylinder(BOSS_EXTRUDE4_END_RADIUS, 1827.3896445348023, mode=Mode.PRIVATE)
    # Sketch7 → Boss-Extrude4 (add, up to the surface)
    with BuildSketch(Plane(origin=(0, -530, 0), x_dir=(1, 0, 0), z_dir=(0, 1, 0)), mode=Mode.PRIVATE) as boss_extrude4_sk1:
        Polygon((98.74999999999999, -17.5), (98.74999999999999, -32.499999999999986), (33.74999999999999, -32.5), (33.74999999999999, -17.5), align=None)
    boss_extrude4_tool1 = extrude(boss_extrude4_sk1.sketch, amount=BOSS_EXTRUDE4_REACH, mode=Mode.PRIVATE) - boss_extrude4_end
    add(boss_extrude4_tool1.solids().sort_by_distance((66.25, -530, 25))[0])
    # Sketch7 → Boss-Extrude4 (add, up to the surface)
    with BuildSketch(Plane(origin=(0, -530, 0), x_dir=(1, 0, 0), z_dir=(0, 1, 0)), mode=Mode.PRIVATE) as boss_extrude4_sk2:
        Polygon((98.74999999999999, 32.500000000000014), (33.749999999999986, 32.50000000000001), (33.74999999999999, 17.5), (98.74999999999999, 17.5), align=None)
    boss_extrude4_tool2 = extrude(boss_extrude4_sk2.sketch, amount=BOSS_EXTRUDE4_REACH, mode=Mode.PRIVATE) - boss_extrude4_end
    add(boss_extrude4_tool2.solids().sort_by_distance((66.25, -530, -25))[0])

    # Sketch8 → Cut-Extrude3 (cut, through all)
    with BuildSketch(Plane.XY.offset(32.50000000000001)):
        with Locations((80.5397453163993, -511.6033921234513)):
            Circle(SKETCH8_R)
        with BuildLine():
            Line((67.26255540401009, -524.2111376342729), (33.74999999999999, -488.9191370012814))
            Line((33.74999999999999, -488.9191370012814), (33.749999999999986, -530))
            Line((33.749999999999986, -530), (98.74999999999997, -530))
            Line((98.74999999999997, -530), (98.74999999999997, -513.5075043033636))
            ThreePointArc((98.74999999999997, -513.5075043033636), (86.43259892308934, -528.9387114226569), (67.26255540401009, -524.2111376342729))
        make_face()
    extrude(amount=-CUT_EXTRUDE3_DEPTH, mode=Mode.SUBTRACT)

    # Mirror4: Boss-Extrude3, Cut-Extrude1, Cut-Extrude2 across plane
    add(boss_extrude3.mirror(Plane(origin=(-10, 0, 0), x_dir=(0, 0, 1), z_dir=(1, 0, 0))))
    add(cut_extrude1.mirror(Plane(origin=(-10, 0, 0), x_dir=(0, 0, 1), z_dir=(1, 0, 0))), mode=Mode.SUBTRACT)
    add(cut_extrude2.mirror(Plane(origin=(-10, 0, 0), x_dir=(0, 0, 1), z_dir=(1, 0, 0))), mode=Mode.SUBTRACT)

    # Mirror4 copy 1 sketch → Mirror4 copy 1 (cut)
    with BuildSketch(Plane(origin=(-20, -490, 0), x_dir=(-1, 0, 0), z_dir=(0, -1, 0))):
        with Locations((85.00000000000009, -170)):
            Rectangle(MIRROR4_COPY_1_SKETCH_W, MIRROR4_COPY_1_SKETCH_H)
    extrude(amount=-MIRROR4_COPY_1_DEPTH, mode=Mode.SUBTRACT)

    # Mirror4 copy 2 sketch → Mirror4 copy 2 (cut)
    with BuildSketch(Plane(origin=(-20, 0, -190.00000000000003), x_dir=(-1, 0, 0), z_dir=(0, 0, -1))):
        with Locations((85.00000000000007, -480.632373414827)):
            Circle(MIRROR4_COPY_2_SKETCH_R)
    extrude(amount=-MIRROR4_COPY_2_DEPTH, mode=Mode.SUBTRACT)

    # Fillet3 of Mirror4
    fillet3_of_mirror4_edges = [body_2.edges().sort_by_distance(p)[0] for p in [
        (-127.49999999999997, -490, 183.75000000000003),
        (-82.49999999999996, -490, 156.25),
        (-127.50000000000009, -490, -156.25),
        (-82.50000000000009, -490, -183.75),
        (-127.50000000000009, -490, -183.75),
        (-82.50000000000009, -490, -156.25),
        (-127.49999999999996, -490, 156.25),
        (-82.49999999999997, -490, 183.75000000000003),
    ]]
    fillet(fillet3_of_mirror4_edges, radius=FILLET3_OF_MIRROR4_R)

    # Boss-Extrude5: up to this cylinder (the profile starts outside it)
    boss_extrude5_end = Plane(origin=(112.5, 95.6108788131117, 2.776e-14), z_dir=(-1, 0, 0)) * Cylinder(BOSS_EXTRUDE5_END_RADIUS, 1827.3896445348023, mode=Mode.PRIVATE)
    # Sketch9 → Boss-Extrude5 (add, up to the surface)
    with BuildSketch(Plane(origin=(0, -530, 0), x_dir=(1, 0, 0), z_dir=(0, 1, 0)), mode=Mode.PRIVATE) as boss_extrude5_sk1:
        with Locations((112.5, 121.25000000000003)):
            Rectangle(SKETCH9_W, SKETCH9_H)
    boss_extrude5_tool1 = extrude(boss_extrude5_sk1.sketch, amount=BOSS_EXTRUDE5_REACH, mode=Mode.PRIVATE) - boss_extrude5_end
    add(boss_extrude5_tool1.solids().sort_by_distance((112.5, -530, -121.25))[0])
    # Sketch9 → Boss-Extrude5 (add, up to the surface)
    with BuildSketch(Plane(origin=(0, -530, 0), x_dir=(1, 0, 0), z_dir=(0, 1, 0)), mode=Mode.PRIVATE) as boss_extrude5_sk2:
        Polygon((92.5, 68.75000000000001), (132.5, 68.75000000000001), (132.5, 53.75000000000002), (92.49999999999999, 53.75000000000002), align=None)
    boss_extrude5_tool2 = extrude(boss_extrude5_sk2.sketch, amount=BOSS_EXTRUDE5_REACH, mode=Mode.PRIVATE) - boss_extrude5_end
    add(boss_extrude5_tool2.solids().sort_by_distance((112.5, -530, -61.25))[0])

    # Fillet4
    fillet4_edges = [body_2.edges().sort_by_distance(p)[0] for p in [
        (92.5, -530, -121.25000000000003),
        (132.5, -530, -121.25000000000003),
        (92.49999999999999, -530, -61.250000000000014),
        (132.5, -530, -61.250000000000014),
    ]]
    fillet(fillet4_edges, radius=FILLET4_R)

    # Sketch10 → Cut-Extrude4 (cut)
    with BuildSketch(Plane(origin=(0, 0, -128.75000000000003), x_dir=(-1, 0, 0), z_dir=(0, 0, -1))):
        with Locations((-112.5, -515)):
            Circle(SKETCH10_R)
    extrude(amount=-CUT_EXTRUDE4_DEPTH, mode=Mode.SUBTRACT)


solid = Compound([part.part, body_2.part])
